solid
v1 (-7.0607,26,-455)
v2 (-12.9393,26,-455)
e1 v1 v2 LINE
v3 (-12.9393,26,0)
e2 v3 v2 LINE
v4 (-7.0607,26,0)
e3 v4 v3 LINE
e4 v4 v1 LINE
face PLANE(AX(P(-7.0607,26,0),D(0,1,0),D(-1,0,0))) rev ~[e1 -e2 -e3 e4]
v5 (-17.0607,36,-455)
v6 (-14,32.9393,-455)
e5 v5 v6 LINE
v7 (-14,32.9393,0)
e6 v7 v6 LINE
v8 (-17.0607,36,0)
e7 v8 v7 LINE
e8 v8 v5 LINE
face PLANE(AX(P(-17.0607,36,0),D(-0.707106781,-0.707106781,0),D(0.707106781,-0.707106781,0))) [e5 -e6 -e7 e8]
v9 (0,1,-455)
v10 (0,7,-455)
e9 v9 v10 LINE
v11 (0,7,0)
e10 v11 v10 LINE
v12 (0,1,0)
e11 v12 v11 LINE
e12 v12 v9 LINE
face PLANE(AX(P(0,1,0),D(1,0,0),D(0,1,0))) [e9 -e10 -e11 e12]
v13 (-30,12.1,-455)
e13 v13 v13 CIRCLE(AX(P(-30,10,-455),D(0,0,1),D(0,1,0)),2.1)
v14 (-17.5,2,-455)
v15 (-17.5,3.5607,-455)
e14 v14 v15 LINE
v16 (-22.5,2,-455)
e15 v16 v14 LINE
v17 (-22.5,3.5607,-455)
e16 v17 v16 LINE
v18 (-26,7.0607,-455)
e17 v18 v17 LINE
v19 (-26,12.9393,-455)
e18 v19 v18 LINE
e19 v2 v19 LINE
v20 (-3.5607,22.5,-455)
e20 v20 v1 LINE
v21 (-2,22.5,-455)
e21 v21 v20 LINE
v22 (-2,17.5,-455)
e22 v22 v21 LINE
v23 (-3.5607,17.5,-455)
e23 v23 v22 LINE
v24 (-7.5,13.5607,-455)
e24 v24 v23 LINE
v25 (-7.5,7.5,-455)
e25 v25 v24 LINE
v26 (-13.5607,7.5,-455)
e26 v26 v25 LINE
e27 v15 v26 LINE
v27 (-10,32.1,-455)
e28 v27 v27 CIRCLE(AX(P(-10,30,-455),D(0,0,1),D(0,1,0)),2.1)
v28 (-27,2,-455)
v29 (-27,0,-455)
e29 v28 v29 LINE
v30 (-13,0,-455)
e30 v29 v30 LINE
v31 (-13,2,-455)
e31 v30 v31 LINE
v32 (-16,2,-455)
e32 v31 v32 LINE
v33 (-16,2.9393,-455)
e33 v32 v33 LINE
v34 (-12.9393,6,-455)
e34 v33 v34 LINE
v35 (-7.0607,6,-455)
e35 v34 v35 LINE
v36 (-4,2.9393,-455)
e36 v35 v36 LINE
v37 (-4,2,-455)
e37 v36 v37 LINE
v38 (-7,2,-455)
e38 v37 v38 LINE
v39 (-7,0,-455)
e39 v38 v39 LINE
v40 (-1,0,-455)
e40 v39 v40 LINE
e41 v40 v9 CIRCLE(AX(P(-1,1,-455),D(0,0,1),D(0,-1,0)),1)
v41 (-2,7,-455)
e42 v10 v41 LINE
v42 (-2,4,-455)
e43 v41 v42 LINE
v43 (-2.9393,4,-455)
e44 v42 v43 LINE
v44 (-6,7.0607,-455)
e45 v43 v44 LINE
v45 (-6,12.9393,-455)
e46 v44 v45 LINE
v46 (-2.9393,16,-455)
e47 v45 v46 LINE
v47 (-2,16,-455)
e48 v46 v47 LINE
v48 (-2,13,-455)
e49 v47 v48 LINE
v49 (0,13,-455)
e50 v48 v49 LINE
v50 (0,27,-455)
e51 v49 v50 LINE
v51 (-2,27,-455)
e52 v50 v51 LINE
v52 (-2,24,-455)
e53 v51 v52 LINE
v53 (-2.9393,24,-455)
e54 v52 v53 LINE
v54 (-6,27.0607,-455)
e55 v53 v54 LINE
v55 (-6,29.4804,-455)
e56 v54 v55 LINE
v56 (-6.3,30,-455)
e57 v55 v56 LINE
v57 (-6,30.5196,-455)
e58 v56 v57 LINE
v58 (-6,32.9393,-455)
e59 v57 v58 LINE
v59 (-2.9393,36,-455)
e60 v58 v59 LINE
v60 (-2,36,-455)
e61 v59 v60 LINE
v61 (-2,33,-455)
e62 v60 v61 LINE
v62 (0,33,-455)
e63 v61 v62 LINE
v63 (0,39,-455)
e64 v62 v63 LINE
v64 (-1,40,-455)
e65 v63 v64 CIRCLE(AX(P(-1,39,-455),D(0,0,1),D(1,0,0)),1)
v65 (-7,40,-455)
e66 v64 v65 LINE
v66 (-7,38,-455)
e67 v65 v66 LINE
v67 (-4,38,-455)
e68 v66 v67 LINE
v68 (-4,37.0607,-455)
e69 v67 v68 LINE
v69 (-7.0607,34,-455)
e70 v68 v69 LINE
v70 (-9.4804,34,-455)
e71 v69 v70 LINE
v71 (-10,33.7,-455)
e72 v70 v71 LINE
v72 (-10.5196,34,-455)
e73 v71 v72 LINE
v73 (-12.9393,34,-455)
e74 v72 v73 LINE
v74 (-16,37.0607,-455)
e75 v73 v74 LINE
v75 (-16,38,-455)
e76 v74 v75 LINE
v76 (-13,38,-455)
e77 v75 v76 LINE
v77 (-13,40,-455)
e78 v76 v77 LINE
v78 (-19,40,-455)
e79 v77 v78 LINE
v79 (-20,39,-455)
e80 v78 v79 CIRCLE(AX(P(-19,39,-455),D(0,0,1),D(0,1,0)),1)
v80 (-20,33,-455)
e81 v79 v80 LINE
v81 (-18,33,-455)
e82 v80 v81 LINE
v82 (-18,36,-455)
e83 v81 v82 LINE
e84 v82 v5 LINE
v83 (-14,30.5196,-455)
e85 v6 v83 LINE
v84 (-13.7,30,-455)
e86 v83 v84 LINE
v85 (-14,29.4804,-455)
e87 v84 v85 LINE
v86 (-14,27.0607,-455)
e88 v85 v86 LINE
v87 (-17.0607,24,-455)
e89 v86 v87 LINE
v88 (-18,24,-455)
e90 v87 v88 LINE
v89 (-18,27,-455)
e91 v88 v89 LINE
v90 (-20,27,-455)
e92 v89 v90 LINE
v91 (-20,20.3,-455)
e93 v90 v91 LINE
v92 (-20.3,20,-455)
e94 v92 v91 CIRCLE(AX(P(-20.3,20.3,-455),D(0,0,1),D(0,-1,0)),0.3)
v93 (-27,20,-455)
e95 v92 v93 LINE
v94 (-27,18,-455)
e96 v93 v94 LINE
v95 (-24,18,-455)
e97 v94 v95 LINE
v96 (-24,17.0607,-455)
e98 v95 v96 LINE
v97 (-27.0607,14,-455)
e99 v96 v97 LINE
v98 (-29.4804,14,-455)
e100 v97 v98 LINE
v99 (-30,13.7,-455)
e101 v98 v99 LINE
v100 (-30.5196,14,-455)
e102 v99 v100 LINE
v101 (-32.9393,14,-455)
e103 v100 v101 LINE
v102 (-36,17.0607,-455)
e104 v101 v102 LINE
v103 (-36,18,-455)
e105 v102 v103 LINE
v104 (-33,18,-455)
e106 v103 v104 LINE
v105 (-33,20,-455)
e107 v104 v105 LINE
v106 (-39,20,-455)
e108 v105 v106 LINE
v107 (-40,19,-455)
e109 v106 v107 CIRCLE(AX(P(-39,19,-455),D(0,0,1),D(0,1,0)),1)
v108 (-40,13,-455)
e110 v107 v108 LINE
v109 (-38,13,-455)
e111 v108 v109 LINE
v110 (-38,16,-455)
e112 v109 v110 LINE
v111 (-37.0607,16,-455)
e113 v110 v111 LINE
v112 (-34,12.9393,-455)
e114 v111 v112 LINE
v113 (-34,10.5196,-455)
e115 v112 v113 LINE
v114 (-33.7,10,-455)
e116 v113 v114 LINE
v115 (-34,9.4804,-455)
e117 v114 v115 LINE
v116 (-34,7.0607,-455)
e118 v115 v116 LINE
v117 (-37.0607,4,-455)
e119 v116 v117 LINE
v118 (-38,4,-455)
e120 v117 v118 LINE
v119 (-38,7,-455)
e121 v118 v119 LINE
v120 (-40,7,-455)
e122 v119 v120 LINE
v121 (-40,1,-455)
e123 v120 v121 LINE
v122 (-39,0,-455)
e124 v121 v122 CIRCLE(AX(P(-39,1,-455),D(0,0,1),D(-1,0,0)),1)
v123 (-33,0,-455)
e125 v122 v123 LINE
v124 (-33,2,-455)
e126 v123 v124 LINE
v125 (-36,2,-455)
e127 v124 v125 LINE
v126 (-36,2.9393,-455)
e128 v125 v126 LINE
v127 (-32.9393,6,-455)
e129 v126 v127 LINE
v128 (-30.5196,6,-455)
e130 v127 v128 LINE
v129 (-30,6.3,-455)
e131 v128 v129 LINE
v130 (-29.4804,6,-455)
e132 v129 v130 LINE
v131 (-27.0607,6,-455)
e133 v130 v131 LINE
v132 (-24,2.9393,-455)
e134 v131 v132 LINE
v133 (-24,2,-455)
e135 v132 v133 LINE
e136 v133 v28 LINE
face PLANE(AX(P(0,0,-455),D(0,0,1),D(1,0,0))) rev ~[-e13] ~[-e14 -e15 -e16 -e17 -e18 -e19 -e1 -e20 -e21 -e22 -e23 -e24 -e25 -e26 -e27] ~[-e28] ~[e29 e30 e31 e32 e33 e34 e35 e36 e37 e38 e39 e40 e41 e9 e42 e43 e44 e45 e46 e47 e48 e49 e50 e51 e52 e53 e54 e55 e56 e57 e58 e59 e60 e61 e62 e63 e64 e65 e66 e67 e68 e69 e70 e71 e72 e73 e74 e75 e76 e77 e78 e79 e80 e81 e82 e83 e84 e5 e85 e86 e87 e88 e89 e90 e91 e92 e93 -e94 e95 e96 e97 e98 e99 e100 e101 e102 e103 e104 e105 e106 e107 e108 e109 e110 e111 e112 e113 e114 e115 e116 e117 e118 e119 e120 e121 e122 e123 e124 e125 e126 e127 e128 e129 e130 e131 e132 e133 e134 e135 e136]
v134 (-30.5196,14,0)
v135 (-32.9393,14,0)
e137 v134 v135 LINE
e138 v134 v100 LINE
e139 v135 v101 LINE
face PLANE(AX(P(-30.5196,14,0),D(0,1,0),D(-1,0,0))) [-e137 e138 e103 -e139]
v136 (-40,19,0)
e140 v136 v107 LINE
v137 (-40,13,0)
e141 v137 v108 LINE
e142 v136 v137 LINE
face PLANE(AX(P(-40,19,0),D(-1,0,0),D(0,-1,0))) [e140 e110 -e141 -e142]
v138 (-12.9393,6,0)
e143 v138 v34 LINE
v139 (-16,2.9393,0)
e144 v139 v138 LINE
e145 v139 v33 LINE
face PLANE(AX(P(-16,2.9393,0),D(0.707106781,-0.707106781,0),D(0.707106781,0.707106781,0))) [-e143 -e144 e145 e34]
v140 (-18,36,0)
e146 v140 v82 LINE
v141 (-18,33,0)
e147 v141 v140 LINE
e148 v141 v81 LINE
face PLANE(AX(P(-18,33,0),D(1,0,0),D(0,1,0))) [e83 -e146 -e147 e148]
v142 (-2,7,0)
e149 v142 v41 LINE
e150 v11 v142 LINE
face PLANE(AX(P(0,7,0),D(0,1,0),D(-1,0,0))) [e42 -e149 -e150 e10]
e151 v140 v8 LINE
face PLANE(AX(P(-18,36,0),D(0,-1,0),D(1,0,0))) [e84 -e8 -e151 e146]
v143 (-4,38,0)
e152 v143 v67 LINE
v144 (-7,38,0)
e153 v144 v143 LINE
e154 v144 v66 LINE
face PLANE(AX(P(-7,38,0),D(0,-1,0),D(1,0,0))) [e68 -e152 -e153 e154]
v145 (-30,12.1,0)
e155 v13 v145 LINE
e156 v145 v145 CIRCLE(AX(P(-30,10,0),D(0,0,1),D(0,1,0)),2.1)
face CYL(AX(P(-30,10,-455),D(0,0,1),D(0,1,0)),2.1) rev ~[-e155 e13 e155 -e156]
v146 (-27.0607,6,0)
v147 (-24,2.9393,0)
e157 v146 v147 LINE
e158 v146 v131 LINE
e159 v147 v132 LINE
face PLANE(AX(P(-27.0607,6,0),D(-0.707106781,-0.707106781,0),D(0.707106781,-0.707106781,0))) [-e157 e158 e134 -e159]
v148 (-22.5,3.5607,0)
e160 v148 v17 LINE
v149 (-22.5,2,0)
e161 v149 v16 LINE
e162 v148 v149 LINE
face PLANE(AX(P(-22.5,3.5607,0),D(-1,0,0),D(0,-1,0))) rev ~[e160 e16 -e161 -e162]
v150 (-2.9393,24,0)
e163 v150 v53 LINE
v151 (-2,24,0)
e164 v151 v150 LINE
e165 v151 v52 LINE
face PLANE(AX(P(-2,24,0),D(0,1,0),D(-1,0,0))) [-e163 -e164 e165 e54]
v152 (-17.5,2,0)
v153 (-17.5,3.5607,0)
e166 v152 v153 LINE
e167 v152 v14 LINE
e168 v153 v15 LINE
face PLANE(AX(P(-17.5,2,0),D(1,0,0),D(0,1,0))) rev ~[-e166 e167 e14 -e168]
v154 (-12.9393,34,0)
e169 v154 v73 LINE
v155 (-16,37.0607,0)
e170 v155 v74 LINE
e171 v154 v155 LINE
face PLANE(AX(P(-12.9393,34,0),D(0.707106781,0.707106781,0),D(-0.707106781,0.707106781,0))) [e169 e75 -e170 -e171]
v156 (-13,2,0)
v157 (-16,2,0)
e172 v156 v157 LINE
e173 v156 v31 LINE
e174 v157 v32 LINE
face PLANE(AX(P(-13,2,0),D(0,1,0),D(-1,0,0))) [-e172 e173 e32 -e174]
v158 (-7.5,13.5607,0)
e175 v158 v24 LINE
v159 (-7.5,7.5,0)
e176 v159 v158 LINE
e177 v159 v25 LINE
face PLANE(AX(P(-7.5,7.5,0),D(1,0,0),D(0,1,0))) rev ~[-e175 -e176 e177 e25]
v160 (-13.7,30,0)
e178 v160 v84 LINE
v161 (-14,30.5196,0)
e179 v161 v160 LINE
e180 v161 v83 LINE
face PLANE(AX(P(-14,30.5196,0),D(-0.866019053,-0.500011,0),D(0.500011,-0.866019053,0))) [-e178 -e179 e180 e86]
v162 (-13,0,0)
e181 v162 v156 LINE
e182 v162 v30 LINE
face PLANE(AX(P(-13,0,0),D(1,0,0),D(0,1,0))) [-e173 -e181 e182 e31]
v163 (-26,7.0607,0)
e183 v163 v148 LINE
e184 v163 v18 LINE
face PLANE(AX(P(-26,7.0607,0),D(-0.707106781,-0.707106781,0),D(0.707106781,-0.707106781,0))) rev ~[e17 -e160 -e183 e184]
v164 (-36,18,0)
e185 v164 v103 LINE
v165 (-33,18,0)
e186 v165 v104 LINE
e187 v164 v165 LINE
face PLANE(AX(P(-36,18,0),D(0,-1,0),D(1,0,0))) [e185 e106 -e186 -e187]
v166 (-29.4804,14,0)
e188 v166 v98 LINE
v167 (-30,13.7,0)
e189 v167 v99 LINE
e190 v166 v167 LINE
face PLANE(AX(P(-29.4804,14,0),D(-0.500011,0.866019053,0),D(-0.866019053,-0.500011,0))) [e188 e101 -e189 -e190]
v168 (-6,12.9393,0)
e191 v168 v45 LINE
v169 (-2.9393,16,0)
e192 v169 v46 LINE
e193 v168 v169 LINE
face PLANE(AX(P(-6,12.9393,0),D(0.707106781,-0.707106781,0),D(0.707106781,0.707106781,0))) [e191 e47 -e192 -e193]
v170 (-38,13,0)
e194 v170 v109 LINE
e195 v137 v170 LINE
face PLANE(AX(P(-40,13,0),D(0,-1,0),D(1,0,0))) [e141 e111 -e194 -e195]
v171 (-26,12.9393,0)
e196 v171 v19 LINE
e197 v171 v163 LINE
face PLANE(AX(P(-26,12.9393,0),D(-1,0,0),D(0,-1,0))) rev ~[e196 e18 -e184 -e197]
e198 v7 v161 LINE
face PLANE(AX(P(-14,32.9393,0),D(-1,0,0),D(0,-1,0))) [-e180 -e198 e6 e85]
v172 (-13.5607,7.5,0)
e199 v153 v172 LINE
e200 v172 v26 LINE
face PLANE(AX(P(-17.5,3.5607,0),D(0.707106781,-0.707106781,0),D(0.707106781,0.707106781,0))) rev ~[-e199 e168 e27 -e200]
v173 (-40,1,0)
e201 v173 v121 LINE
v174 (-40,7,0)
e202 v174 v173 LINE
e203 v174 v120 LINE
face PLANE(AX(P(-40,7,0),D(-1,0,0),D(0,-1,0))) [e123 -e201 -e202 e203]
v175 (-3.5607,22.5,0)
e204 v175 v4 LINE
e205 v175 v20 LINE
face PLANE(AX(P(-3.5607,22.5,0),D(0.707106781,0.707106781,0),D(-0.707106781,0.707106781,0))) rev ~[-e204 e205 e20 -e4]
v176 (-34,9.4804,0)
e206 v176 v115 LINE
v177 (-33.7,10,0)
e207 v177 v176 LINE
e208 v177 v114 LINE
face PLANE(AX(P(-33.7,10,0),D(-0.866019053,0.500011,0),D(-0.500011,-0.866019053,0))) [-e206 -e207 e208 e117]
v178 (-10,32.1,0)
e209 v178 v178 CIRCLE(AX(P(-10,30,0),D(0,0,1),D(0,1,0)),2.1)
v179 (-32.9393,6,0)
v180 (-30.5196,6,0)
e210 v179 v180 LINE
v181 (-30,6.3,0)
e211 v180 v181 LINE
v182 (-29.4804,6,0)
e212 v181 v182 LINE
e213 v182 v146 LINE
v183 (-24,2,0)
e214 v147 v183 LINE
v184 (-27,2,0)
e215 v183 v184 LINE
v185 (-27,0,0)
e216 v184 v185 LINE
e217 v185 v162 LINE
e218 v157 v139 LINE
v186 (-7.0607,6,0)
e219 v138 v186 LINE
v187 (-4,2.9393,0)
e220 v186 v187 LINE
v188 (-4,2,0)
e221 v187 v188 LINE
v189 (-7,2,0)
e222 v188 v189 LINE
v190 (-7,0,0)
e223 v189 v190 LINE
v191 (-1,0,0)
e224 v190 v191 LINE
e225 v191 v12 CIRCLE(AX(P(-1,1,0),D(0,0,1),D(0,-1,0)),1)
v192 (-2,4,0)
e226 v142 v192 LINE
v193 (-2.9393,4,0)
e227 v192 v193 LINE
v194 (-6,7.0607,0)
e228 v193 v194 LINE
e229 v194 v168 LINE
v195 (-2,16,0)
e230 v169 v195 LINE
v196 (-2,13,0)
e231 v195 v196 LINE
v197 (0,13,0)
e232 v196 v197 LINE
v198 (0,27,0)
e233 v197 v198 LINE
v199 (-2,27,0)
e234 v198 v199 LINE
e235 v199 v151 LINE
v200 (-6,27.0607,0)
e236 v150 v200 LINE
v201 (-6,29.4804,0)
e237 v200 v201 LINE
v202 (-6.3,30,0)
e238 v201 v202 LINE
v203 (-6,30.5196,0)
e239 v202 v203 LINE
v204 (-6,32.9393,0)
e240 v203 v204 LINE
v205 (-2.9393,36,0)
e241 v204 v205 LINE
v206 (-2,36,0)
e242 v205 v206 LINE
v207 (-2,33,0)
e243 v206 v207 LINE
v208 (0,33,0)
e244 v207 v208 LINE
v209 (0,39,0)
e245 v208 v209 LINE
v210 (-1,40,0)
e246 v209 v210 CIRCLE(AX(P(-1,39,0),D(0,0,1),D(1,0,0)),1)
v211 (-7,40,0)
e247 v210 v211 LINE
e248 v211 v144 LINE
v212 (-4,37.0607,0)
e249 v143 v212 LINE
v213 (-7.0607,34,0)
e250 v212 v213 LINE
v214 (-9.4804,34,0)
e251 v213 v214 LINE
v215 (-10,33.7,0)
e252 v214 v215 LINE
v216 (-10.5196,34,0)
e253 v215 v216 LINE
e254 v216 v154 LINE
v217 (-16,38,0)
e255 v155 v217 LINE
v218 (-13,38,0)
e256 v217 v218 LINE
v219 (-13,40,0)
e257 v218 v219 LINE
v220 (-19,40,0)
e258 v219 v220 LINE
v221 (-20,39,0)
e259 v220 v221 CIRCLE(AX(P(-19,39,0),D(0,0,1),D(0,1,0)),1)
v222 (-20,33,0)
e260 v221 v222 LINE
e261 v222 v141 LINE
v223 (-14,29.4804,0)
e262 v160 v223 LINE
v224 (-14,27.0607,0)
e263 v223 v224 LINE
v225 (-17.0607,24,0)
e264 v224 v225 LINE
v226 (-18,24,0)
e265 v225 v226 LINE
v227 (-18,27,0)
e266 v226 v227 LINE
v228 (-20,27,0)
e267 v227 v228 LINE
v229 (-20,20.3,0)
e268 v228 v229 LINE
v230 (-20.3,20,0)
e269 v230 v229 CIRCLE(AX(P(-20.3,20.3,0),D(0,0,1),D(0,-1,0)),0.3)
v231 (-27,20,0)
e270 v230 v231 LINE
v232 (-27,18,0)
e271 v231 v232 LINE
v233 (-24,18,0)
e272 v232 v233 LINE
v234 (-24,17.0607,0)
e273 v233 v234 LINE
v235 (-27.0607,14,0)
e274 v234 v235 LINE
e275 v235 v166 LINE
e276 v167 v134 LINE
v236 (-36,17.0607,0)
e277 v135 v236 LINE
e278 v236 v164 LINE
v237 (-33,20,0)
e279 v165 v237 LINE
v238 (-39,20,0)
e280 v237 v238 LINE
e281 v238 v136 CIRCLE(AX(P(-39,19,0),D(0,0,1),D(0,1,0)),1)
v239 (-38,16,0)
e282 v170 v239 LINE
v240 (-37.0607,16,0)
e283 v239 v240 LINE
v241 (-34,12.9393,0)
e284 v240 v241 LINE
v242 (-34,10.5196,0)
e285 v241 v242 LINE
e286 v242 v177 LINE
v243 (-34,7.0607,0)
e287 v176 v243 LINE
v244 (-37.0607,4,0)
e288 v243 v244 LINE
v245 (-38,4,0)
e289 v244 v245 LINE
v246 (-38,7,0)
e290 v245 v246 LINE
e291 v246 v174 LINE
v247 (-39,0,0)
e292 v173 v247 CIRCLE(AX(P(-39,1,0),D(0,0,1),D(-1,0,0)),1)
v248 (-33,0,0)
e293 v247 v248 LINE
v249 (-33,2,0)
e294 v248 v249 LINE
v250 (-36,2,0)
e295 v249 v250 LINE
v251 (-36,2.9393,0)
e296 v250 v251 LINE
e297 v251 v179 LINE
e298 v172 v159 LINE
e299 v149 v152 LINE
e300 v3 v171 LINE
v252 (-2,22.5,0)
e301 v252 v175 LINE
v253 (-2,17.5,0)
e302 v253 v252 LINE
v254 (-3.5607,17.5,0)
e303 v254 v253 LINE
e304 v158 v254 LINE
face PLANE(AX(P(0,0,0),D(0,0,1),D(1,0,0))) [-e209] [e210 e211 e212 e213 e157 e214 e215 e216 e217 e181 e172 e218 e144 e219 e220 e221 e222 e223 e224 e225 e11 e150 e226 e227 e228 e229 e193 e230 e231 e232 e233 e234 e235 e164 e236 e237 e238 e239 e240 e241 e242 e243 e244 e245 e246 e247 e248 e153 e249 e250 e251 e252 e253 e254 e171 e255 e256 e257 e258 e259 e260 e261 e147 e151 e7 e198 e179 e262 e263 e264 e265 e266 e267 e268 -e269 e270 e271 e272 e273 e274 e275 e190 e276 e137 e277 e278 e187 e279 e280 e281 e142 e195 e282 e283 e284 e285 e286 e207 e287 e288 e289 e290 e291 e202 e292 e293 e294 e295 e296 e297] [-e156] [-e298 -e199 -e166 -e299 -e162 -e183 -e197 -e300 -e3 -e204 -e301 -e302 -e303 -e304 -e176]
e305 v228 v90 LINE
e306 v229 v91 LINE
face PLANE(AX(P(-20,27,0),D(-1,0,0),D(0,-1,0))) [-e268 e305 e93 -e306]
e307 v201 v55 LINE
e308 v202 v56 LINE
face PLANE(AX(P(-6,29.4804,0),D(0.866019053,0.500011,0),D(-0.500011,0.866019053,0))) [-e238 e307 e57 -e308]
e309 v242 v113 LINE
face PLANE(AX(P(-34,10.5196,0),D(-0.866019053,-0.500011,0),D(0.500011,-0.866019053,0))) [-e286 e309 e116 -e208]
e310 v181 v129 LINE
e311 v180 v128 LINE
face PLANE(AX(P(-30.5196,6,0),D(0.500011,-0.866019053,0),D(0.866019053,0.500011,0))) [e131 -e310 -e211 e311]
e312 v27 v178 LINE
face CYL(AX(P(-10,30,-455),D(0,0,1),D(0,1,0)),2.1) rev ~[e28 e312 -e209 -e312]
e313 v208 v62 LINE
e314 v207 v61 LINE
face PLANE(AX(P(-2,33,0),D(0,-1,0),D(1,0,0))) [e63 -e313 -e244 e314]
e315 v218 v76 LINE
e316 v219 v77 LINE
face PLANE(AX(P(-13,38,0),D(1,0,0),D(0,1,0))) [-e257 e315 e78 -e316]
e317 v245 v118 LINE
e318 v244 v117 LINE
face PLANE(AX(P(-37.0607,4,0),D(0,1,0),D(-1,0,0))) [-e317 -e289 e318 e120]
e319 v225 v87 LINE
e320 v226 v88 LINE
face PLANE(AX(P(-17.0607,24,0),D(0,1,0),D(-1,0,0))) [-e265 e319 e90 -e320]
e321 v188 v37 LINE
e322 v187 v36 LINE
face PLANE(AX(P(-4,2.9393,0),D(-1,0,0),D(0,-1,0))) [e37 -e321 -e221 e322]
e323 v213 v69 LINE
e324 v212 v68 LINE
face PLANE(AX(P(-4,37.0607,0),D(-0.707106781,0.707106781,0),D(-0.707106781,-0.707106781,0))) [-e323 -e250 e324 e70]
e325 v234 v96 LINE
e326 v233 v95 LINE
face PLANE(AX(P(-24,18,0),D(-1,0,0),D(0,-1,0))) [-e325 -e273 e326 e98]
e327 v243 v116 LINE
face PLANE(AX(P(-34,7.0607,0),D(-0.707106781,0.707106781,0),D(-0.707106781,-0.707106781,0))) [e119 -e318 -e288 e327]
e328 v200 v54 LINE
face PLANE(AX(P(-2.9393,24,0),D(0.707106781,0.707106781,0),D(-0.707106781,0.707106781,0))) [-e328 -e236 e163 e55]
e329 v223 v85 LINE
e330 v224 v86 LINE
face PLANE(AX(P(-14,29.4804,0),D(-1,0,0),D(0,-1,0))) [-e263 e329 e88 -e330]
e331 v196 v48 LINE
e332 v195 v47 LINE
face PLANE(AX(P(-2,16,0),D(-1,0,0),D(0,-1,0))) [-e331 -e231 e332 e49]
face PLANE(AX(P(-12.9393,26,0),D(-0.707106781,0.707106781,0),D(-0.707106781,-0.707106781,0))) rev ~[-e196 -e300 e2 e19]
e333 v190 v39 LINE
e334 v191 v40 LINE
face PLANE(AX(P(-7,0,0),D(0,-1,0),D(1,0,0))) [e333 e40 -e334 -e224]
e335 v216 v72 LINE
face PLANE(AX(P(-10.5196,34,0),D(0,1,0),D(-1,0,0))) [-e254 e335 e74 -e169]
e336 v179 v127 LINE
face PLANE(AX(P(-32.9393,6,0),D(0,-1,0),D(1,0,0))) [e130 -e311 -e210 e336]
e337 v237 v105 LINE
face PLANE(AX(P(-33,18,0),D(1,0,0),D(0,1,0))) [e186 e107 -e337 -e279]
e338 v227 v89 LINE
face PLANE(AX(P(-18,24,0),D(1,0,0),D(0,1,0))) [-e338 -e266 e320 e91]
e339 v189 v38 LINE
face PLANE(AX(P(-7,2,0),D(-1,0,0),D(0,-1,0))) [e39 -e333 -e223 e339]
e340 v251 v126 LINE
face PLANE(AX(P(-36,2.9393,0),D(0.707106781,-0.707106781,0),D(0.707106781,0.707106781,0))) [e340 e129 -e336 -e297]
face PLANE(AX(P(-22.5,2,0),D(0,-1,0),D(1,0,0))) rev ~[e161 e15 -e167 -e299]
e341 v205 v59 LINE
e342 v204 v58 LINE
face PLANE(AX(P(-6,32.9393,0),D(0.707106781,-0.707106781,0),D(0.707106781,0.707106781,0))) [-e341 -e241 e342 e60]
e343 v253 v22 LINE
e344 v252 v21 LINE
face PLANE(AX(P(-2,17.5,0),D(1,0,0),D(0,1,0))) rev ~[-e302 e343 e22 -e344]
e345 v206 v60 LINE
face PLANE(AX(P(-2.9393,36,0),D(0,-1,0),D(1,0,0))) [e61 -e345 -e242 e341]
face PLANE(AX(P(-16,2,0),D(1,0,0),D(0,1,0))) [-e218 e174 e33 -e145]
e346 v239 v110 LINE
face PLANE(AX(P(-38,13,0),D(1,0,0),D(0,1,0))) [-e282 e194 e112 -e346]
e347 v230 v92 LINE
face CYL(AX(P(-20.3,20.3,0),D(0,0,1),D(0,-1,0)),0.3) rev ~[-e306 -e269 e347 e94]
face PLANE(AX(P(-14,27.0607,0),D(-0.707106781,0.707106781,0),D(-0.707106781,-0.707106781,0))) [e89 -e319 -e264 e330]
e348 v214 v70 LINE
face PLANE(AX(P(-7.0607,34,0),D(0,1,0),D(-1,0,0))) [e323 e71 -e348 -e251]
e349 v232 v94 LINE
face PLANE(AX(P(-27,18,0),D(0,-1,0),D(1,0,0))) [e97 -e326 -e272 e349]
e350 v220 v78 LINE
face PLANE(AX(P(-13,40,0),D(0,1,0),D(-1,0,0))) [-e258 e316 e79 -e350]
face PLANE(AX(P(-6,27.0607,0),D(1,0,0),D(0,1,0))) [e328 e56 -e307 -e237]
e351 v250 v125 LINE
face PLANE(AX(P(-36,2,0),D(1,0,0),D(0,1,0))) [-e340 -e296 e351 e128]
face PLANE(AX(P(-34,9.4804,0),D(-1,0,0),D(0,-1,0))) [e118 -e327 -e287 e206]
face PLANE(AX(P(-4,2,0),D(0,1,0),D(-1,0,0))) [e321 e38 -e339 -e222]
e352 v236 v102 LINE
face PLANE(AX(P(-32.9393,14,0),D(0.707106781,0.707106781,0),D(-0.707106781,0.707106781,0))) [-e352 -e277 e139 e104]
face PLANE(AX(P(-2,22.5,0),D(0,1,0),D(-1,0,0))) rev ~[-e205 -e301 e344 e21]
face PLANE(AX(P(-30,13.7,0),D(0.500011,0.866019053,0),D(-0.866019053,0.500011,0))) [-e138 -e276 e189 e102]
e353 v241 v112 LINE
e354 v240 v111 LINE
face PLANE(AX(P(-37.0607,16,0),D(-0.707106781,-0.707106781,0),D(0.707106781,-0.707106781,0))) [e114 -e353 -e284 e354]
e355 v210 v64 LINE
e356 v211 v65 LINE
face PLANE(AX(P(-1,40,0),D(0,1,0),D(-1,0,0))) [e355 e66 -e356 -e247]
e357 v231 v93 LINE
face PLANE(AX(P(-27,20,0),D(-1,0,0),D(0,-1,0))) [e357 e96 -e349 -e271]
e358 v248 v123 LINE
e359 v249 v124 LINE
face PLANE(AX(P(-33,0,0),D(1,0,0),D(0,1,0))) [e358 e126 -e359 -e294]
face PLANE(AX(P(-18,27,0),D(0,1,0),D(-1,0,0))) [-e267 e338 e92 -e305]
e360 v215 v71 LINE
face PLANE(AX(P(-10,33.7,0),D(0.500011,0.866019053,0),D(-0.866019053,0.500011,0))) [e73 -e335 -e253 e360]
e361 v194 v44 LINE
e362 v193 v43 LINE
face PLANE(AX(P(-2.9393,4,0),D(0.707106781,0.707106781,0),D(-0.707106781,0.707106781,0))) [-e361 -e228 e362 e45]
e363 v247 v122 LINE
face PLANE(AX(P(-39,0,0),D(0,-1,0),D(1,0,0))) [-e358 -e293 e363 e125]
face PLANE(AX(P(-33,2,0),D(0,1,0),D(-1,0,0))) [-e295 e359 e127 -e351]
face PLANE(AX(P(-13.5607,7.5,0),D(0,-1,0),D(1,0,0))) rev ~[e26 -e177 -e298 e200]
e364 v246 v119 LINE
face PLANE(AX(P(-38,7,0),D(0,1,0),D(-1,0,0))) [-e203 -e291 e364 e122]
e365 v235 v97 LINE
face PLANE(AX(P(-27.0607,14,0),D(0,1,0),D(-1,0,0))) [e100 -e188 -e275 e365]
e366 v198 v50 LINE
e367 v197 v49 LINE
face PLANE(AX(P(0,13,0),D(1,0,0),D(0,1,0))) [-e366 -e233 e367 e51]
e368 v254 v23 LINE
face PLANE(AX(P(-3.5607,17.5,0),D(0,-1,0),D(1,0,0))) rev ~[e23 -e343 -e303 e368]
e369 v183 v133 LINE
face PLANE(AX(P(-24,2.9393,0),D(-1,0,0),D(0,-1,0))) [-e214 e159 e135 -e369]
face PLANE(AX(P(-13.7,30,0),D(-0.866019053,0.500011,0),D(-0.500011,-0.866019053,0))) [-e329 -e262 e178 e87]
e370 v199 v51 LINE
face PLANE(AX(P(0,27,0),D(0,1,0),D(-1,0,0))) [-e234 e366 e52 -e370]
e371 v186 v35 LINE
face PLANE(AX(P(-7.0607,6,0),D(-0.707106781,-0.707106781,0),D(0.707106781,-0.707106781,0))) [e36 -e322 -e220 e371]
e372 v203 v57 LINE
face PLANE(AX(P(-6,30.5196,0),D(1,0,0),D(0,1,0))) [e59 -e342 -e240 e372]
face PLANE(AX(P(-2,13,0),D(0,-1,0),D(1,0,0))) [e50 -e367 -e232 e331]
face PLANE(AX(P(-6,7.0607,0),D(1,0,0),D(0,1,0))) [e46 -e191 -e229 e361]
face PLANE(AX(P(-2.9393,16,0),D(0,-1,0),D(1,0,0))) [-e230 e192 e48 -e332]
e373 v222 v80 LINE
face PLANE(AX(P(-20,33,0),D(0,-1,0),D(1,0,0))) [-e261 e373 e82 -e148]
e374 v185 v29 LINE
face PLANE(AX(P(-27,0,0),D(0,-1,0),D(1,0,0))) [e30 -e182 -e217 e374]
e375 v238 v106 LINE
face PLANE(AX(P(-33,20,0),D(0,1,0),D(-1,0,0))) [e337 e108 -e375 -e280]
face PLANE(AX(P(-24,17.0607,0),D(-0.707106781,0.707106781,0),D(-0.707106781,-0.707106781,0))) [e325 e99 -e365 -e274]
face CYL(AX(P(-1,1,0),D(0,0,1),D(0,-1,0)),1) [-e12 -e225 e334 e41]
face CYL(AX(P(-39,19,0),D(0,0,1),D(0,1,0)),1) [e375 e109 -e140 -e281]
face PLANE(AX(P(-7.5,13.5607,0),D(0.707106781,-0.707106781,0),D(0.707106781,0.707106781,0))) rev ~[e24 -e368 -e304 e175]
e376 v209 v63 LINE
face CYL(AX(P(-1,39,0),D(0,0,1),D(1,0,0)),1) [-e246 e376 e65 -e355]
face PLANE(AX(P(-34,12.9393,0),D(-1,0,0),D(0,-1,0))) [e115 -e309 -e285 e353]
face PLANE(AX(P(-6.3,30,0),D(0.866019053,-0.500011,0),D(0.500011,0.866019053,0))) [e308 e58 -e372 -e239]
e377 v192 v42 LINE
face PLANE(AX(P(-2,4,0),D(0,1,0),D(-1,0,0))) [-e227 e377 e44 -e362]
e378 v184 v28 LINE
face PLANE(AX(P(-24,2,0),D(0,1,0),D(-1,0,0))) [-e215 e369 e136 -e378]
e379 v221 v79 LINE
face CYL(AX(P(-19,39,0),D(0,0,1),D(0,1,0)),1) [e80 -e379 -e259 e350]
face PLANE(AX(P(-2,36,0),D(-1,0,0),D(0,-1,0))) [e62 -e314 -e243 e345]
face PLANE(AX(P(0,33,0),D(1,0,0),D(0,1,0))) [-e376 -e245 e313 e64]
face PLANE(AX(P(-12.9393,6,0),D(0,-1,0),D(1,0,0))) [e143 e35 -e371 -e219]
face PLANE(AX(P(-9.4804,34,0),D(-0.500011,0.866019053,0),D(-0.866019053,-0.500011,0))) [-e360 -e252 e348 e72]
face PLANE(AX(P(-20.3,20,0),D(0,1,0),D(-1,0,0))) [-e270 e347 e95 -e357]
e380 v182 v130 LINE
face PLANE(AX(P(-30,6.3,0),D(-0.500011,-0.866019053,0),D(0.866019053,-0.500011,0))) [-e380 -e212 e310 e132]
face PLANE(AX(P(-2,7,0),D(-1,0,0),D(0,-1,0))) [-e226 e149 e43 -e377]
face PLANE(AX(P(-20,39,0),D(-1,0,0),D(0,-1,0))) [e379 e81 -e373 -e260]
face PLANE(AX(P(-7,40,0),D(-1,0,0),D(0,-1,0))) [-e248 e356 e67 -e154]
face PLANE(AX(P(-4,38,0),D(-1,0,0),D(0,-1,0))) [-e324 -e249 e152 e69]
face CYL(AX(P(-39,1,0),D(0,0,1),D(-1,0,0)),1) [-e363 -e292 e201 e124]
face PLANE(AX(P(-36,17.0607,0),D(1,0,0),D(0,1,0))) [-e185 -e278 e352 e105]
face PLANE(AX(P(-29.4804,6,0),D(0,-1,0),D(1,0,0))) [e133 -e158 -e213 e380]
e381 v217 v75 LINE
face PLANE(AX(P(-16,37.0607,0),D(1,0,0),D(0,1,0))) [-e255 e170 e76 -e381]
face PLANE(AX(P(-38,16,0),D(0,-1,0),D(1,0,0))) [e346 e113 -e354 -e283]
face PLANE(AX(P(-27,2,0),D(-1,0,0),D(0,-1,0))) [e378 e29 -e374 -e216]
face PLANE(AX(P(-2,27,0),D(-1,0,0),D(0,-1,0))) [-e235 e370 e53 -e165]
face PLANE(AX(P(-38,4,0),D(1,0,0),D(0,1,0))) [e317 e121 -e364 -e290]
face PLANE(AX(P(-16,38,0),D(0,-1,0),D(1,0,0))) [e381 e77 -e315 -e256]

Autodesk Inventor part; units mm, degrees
ref_plane "YZ Plane" through (0, 0, 0) normal (1, 0, 0) x (0, 1, 0)
ref_plane "XZ Plane" through (0, 0, 0) normal (0, 1, 0) x (-1, 0, 0)
ref_plane "XY Plane" through (0, 0, 0) normal (0, 0, 1) x (1, 0, 0)
sketch "Sketch_1" plane through (0, 0, 0) normal (0, 0, 1) x (1, 0, 0)
  line L0 (-40, 19) -> (-40, 13)
  line L1 (-40, 13) -> (-38, 13)
  line L2 (-38, 13) -> (-38, 16)
  line L3 (-38, 16) -> (-37.0607, 16)
  line L4 (-37.0607, 16) -> (-34, 12.9393)
  line L5 (-34, 12.9393) -> (-34, 10.5196)
  line L6 (-34, 10.5196) -> (-33.7, 10)
  line L7 (-33.7, 10) -> (-34, 9.4804)
  line L8 (-34, 9.4804) -> (-34, 7.0607)
  line L9 (-34, 7.0607) -> (-37.0607, 4)
  line L10 (-37.0607, 4) -> (-38, 4)
  line L11 (-38, 4) -> (-38, 7)
  line L12 (-38, 7) -> (-40, 7)
  line L13 (-40, 7) -> (-40, 1)
  arc A0 (-40, 1) -> (-39, 0) centre (-39, 1) ccw
  line L14 (-39, 0) -> (-33, 0)
  line L15 (-33, 0) -> (-33, 2)
  line L16 (-33, 2) -> (-36, 2)
  line L17 (-36, 2) -> (-36, 2.9393)
  line L18 (-36, 2.9393) -> (-32.9393, 6)
  line L19 (-32.9393, 6) -> (-30.5196, 6)
  line L20 (-30.5196, 6) -> (-30, 6.3)
  line L21 (-30, 6.3) -> (-29.4804, 6)
  line L22 (-29.4804, 6) -> (-27.0607, 6)
  line L23 (-27.0607, 6) -> (-24, 2.9393)
  line L24 (-24, 2.9393) -> (-24, 2)
  line L25 (-24, 2) -> (-27, 2)
  line L26 (-27, 2) -> (-27, 0)
  line L27 (-27, 0) -> (-13, 0)
  line L28 (-13, 0) -> (-13, 2)
  line L29 (-13, 2) -> (-16, 2)
  line L30 (-16, 2) -> (-16, 2.9393)
  line L31 (-16, 2.9393) -> (-12.9393, 6)
  line L32 (-12.9393, 6) -> (-7.0607, 6)
  line L33 (-7.0607, 6) -> (-4, 2.9393)
  line L34 (-4, 2.9393) -> (-4, 2)
  line L35 (-4, 2) -> (-7, 2)
  line L36 (-7, 2) -> (-7, 0)
  line L37 (-7, 0) -> (-1, 0)
  arc A1 (-1, 0) -> (0, 1) centre (-1, 1) ccw
  line L38 (0, 1) -> (0, 7)
  line L39 (0, 7) -> (-2, 7)
  line L40 (-2, 7) -> (-2, 4)
  line L41 (-2, 4) -> (-2.9393, 4)
  line L42 (-2.9393, 4) -> (-6, 7.0607)
  line L43 (-6, 7.0607) -> (-6, 12.9393)
  line L44 (-6, 12.9393) -> (-2.9393, 16)
  line L45 (-2.9393, 16) -> (-2, 16)
  line L46 (-2, 16) -> (-2, 13)
  line L47 (-2, 13) -> (0, 13)
  line L48 (0, 13) -> (0, 27)
  line L49 (0, 27) -> (-2, 27)
  line L50 (-2, 27) -> (-2, 24)
  line L51 (-2, 24) -> (-2.9393, 24)
  line L52 (-2.9393, 24) -> (-6, 27.0607)
  line L53 (-6, 27.0607) -> (-6, 29.4804)
  line L54 (-6, 29.4804) -> (-6.3, 30)
  line L55 (-6.3, 30) -> (-6, 30.5196)
  line L56 (-6, 30.5196) -> (-6, 32.9393)
  line L57 (-6, 32.9393) -> (-2.9393, 36)
  line L58 (-2.9393, 36) -> (-2, 36)
  line L59 (-2, 36) -> (-2, 33)
  line L60 (-2, 33) -> (0, 33)
  line L61 (0, 33) -> (0, 39)
  arc A2 (0, 39) -> (-1, 40) centre (-1, 39) ccw
  line L62 (-1, 40) -> (-7, 40)
  line L63 (-7, 40) -> (-7, 38)
  line L64 (-7, 38) -> (-4, 38)
  line L65 (-4, 38) -> (-4, 37.0607)
  line L66 (-4, 37.0607) -> (-7.0607, 34)
  line L67 (-7.0607, 34) -> (-9.4804, 34)
  line L68 (-9.4804, 34) -> (-10, 33.7)
  line L69 (-10, 33.7) -> (-10.5196, 34)
  line L70 (-10.5196, 34) -> (-12.9393, 34)
  line L71 (-12.9393, 34) -> (-16, 37.0607)
  line L72 (-16, 37.0607) -> (-16, 38)
  line L73 (-16, 38) -> (-13, 38)
  line L74 (-13, 38) -> (-13, 40)
  line L75 (-13, 40) -> (-19, 40)
  arc A3 (-19, 40) -> (-20, 39) centre (-19, 39) ccw
  line L76 (-20, 39) -> (-20, 33)
  line L77 (-20, 33) -> (-18, 33)
  line L78 (-18, 33) -> (-18, 36)
  line L79 (-18, 36) -> (-17.0607, 36)
  line L80 (-17.0607, 36) -> (-14, 32.9393)
  line L81 (-14, 32.9393) -> (-14, 30.5196)
  line L82 (-14, 30.5196) -> (-13.7, 30)
  line L83 (-13.7, 30) -> (-14, 29.4804)
  line L84 (-14, 29.4804) -> (-14, 27.0607)
  line L85 (-14, 27.0607) -> (-17.0607, 24)
  line L86 (-17.0607, 24) -> (-18, 24)
  line L87 (-18, 24) -> (-18, 27)
  line L88 (-18, 27) -> (-20, 27)
  line L89 (-20, 27) -> (-20, 20.3)
  arc A4 (-20.3, 20) -> (-20, 20.3) centre (-20.3, 20.3) ccw
  line L90 (-20.3, 20) -> (-27, 20)
  line L91 (-27, 20) -> (-27, 18)
  line L92 (-27, 18) -> (-24, 18)
  line L93 (-24, 18) -> (-24, 17.0607)
  line L94 (-24, 17.0607) -> (-27.0607, 14)
  line L95 (-27.0607, 14) -> (-29.4804, 14)
  line L96 (-29.4804, 14) -> (-30, 13.7)
  line L97 (-30, 13.7) -> (-30.5196, 14)
  line L98 (-30.5196, 14) -> (-32.9393, 14)
  line L99 (-32.9393, 14) -> (-36, 17.0607)
  line L100 (-36, 17.0607) -> (-36, 18)
  line L101 (-36, 18) -> (-33, 18)
  line L102 (-33, 18) -> (-33, 20)
  line L103 (-33, 20) -> (-39, 20)
  arc A5 (-39, 20) -> (-40, 19) centre (-39, 19) ccw
  line L104 (-26, 7.0607) -> (-22.5, 3.5607)
  line L105 (-22.5, 3.5607) -> (-22.5, 2)
  line L106 (-22.5, 2) -> (-17.5, 2)
  line L107 (-17.5, 2) -> (-17.5, 3.5607)
  line L108 (-17.5, 3.5607) -> (-13.5607, 7.5)
  line L109 (-13.5607, 7.5) -> (-7.5, 7.5)
  line L110 (-7.5, 7.5) -> (-7.5, 13.5607)
  line L111 (-7.5, 13.5607) -> (-3.5607, 17.5)
  line L112 (-3.5607, 17.5) -> (-2, 17.5)
  line L113 (-2, 17.5) -> (-2, 22.5)
  line L114 (-2, 22.5) -> (-3.5607, 22.5)
  line L115 (-3.5607, 22.5) -> (-7.0607, 26)
  line L116 (-7.0607, 26) -> (-12.9393, 26)
  line L117 (-12.9393, 26) -> (-26, 12.9393)
  line L118 (-26, 12.9393) -> (-26, 7.0607)
extrude "Extrusion1" add sketch "Sketch_1" against normal blind 455
sketch "Sketch2" plane through (0, 0, -455) normal (0, 0, -1) x (-1, 0, 0)
  point P0 (10, 30)
hole "Hole1" at (-10, 30, -455) direction (0, 0, 1) diameter 4.2 end through all
sketch "Sketch3" plane through (0, 0, -455) normal (0, 0, -1) x (-1, 0, 0)
  point P0 (30, 10)
hole "Hole2" at (-30, 10, -455) direction (0, 0, 1) diameter 4.2 end through all
thread "Thread1" size "M5x0.8" class "6H" standard "ANSI Metric M Profile" length 10
thread "Thread2" size "M5x0.8" class "6H" standard "ANSI Metric M Profile" length 10
thread "Thread3" size "M5x0.8" class "6H" standard "ANSI Metric M Profile" length 10
thread "Thread4" size "M5x0.8" class "6H" standard "ANSI Metric M Profile" length 10
properties part number "4040 Top Right Edge" material "Aluminum 6061"
